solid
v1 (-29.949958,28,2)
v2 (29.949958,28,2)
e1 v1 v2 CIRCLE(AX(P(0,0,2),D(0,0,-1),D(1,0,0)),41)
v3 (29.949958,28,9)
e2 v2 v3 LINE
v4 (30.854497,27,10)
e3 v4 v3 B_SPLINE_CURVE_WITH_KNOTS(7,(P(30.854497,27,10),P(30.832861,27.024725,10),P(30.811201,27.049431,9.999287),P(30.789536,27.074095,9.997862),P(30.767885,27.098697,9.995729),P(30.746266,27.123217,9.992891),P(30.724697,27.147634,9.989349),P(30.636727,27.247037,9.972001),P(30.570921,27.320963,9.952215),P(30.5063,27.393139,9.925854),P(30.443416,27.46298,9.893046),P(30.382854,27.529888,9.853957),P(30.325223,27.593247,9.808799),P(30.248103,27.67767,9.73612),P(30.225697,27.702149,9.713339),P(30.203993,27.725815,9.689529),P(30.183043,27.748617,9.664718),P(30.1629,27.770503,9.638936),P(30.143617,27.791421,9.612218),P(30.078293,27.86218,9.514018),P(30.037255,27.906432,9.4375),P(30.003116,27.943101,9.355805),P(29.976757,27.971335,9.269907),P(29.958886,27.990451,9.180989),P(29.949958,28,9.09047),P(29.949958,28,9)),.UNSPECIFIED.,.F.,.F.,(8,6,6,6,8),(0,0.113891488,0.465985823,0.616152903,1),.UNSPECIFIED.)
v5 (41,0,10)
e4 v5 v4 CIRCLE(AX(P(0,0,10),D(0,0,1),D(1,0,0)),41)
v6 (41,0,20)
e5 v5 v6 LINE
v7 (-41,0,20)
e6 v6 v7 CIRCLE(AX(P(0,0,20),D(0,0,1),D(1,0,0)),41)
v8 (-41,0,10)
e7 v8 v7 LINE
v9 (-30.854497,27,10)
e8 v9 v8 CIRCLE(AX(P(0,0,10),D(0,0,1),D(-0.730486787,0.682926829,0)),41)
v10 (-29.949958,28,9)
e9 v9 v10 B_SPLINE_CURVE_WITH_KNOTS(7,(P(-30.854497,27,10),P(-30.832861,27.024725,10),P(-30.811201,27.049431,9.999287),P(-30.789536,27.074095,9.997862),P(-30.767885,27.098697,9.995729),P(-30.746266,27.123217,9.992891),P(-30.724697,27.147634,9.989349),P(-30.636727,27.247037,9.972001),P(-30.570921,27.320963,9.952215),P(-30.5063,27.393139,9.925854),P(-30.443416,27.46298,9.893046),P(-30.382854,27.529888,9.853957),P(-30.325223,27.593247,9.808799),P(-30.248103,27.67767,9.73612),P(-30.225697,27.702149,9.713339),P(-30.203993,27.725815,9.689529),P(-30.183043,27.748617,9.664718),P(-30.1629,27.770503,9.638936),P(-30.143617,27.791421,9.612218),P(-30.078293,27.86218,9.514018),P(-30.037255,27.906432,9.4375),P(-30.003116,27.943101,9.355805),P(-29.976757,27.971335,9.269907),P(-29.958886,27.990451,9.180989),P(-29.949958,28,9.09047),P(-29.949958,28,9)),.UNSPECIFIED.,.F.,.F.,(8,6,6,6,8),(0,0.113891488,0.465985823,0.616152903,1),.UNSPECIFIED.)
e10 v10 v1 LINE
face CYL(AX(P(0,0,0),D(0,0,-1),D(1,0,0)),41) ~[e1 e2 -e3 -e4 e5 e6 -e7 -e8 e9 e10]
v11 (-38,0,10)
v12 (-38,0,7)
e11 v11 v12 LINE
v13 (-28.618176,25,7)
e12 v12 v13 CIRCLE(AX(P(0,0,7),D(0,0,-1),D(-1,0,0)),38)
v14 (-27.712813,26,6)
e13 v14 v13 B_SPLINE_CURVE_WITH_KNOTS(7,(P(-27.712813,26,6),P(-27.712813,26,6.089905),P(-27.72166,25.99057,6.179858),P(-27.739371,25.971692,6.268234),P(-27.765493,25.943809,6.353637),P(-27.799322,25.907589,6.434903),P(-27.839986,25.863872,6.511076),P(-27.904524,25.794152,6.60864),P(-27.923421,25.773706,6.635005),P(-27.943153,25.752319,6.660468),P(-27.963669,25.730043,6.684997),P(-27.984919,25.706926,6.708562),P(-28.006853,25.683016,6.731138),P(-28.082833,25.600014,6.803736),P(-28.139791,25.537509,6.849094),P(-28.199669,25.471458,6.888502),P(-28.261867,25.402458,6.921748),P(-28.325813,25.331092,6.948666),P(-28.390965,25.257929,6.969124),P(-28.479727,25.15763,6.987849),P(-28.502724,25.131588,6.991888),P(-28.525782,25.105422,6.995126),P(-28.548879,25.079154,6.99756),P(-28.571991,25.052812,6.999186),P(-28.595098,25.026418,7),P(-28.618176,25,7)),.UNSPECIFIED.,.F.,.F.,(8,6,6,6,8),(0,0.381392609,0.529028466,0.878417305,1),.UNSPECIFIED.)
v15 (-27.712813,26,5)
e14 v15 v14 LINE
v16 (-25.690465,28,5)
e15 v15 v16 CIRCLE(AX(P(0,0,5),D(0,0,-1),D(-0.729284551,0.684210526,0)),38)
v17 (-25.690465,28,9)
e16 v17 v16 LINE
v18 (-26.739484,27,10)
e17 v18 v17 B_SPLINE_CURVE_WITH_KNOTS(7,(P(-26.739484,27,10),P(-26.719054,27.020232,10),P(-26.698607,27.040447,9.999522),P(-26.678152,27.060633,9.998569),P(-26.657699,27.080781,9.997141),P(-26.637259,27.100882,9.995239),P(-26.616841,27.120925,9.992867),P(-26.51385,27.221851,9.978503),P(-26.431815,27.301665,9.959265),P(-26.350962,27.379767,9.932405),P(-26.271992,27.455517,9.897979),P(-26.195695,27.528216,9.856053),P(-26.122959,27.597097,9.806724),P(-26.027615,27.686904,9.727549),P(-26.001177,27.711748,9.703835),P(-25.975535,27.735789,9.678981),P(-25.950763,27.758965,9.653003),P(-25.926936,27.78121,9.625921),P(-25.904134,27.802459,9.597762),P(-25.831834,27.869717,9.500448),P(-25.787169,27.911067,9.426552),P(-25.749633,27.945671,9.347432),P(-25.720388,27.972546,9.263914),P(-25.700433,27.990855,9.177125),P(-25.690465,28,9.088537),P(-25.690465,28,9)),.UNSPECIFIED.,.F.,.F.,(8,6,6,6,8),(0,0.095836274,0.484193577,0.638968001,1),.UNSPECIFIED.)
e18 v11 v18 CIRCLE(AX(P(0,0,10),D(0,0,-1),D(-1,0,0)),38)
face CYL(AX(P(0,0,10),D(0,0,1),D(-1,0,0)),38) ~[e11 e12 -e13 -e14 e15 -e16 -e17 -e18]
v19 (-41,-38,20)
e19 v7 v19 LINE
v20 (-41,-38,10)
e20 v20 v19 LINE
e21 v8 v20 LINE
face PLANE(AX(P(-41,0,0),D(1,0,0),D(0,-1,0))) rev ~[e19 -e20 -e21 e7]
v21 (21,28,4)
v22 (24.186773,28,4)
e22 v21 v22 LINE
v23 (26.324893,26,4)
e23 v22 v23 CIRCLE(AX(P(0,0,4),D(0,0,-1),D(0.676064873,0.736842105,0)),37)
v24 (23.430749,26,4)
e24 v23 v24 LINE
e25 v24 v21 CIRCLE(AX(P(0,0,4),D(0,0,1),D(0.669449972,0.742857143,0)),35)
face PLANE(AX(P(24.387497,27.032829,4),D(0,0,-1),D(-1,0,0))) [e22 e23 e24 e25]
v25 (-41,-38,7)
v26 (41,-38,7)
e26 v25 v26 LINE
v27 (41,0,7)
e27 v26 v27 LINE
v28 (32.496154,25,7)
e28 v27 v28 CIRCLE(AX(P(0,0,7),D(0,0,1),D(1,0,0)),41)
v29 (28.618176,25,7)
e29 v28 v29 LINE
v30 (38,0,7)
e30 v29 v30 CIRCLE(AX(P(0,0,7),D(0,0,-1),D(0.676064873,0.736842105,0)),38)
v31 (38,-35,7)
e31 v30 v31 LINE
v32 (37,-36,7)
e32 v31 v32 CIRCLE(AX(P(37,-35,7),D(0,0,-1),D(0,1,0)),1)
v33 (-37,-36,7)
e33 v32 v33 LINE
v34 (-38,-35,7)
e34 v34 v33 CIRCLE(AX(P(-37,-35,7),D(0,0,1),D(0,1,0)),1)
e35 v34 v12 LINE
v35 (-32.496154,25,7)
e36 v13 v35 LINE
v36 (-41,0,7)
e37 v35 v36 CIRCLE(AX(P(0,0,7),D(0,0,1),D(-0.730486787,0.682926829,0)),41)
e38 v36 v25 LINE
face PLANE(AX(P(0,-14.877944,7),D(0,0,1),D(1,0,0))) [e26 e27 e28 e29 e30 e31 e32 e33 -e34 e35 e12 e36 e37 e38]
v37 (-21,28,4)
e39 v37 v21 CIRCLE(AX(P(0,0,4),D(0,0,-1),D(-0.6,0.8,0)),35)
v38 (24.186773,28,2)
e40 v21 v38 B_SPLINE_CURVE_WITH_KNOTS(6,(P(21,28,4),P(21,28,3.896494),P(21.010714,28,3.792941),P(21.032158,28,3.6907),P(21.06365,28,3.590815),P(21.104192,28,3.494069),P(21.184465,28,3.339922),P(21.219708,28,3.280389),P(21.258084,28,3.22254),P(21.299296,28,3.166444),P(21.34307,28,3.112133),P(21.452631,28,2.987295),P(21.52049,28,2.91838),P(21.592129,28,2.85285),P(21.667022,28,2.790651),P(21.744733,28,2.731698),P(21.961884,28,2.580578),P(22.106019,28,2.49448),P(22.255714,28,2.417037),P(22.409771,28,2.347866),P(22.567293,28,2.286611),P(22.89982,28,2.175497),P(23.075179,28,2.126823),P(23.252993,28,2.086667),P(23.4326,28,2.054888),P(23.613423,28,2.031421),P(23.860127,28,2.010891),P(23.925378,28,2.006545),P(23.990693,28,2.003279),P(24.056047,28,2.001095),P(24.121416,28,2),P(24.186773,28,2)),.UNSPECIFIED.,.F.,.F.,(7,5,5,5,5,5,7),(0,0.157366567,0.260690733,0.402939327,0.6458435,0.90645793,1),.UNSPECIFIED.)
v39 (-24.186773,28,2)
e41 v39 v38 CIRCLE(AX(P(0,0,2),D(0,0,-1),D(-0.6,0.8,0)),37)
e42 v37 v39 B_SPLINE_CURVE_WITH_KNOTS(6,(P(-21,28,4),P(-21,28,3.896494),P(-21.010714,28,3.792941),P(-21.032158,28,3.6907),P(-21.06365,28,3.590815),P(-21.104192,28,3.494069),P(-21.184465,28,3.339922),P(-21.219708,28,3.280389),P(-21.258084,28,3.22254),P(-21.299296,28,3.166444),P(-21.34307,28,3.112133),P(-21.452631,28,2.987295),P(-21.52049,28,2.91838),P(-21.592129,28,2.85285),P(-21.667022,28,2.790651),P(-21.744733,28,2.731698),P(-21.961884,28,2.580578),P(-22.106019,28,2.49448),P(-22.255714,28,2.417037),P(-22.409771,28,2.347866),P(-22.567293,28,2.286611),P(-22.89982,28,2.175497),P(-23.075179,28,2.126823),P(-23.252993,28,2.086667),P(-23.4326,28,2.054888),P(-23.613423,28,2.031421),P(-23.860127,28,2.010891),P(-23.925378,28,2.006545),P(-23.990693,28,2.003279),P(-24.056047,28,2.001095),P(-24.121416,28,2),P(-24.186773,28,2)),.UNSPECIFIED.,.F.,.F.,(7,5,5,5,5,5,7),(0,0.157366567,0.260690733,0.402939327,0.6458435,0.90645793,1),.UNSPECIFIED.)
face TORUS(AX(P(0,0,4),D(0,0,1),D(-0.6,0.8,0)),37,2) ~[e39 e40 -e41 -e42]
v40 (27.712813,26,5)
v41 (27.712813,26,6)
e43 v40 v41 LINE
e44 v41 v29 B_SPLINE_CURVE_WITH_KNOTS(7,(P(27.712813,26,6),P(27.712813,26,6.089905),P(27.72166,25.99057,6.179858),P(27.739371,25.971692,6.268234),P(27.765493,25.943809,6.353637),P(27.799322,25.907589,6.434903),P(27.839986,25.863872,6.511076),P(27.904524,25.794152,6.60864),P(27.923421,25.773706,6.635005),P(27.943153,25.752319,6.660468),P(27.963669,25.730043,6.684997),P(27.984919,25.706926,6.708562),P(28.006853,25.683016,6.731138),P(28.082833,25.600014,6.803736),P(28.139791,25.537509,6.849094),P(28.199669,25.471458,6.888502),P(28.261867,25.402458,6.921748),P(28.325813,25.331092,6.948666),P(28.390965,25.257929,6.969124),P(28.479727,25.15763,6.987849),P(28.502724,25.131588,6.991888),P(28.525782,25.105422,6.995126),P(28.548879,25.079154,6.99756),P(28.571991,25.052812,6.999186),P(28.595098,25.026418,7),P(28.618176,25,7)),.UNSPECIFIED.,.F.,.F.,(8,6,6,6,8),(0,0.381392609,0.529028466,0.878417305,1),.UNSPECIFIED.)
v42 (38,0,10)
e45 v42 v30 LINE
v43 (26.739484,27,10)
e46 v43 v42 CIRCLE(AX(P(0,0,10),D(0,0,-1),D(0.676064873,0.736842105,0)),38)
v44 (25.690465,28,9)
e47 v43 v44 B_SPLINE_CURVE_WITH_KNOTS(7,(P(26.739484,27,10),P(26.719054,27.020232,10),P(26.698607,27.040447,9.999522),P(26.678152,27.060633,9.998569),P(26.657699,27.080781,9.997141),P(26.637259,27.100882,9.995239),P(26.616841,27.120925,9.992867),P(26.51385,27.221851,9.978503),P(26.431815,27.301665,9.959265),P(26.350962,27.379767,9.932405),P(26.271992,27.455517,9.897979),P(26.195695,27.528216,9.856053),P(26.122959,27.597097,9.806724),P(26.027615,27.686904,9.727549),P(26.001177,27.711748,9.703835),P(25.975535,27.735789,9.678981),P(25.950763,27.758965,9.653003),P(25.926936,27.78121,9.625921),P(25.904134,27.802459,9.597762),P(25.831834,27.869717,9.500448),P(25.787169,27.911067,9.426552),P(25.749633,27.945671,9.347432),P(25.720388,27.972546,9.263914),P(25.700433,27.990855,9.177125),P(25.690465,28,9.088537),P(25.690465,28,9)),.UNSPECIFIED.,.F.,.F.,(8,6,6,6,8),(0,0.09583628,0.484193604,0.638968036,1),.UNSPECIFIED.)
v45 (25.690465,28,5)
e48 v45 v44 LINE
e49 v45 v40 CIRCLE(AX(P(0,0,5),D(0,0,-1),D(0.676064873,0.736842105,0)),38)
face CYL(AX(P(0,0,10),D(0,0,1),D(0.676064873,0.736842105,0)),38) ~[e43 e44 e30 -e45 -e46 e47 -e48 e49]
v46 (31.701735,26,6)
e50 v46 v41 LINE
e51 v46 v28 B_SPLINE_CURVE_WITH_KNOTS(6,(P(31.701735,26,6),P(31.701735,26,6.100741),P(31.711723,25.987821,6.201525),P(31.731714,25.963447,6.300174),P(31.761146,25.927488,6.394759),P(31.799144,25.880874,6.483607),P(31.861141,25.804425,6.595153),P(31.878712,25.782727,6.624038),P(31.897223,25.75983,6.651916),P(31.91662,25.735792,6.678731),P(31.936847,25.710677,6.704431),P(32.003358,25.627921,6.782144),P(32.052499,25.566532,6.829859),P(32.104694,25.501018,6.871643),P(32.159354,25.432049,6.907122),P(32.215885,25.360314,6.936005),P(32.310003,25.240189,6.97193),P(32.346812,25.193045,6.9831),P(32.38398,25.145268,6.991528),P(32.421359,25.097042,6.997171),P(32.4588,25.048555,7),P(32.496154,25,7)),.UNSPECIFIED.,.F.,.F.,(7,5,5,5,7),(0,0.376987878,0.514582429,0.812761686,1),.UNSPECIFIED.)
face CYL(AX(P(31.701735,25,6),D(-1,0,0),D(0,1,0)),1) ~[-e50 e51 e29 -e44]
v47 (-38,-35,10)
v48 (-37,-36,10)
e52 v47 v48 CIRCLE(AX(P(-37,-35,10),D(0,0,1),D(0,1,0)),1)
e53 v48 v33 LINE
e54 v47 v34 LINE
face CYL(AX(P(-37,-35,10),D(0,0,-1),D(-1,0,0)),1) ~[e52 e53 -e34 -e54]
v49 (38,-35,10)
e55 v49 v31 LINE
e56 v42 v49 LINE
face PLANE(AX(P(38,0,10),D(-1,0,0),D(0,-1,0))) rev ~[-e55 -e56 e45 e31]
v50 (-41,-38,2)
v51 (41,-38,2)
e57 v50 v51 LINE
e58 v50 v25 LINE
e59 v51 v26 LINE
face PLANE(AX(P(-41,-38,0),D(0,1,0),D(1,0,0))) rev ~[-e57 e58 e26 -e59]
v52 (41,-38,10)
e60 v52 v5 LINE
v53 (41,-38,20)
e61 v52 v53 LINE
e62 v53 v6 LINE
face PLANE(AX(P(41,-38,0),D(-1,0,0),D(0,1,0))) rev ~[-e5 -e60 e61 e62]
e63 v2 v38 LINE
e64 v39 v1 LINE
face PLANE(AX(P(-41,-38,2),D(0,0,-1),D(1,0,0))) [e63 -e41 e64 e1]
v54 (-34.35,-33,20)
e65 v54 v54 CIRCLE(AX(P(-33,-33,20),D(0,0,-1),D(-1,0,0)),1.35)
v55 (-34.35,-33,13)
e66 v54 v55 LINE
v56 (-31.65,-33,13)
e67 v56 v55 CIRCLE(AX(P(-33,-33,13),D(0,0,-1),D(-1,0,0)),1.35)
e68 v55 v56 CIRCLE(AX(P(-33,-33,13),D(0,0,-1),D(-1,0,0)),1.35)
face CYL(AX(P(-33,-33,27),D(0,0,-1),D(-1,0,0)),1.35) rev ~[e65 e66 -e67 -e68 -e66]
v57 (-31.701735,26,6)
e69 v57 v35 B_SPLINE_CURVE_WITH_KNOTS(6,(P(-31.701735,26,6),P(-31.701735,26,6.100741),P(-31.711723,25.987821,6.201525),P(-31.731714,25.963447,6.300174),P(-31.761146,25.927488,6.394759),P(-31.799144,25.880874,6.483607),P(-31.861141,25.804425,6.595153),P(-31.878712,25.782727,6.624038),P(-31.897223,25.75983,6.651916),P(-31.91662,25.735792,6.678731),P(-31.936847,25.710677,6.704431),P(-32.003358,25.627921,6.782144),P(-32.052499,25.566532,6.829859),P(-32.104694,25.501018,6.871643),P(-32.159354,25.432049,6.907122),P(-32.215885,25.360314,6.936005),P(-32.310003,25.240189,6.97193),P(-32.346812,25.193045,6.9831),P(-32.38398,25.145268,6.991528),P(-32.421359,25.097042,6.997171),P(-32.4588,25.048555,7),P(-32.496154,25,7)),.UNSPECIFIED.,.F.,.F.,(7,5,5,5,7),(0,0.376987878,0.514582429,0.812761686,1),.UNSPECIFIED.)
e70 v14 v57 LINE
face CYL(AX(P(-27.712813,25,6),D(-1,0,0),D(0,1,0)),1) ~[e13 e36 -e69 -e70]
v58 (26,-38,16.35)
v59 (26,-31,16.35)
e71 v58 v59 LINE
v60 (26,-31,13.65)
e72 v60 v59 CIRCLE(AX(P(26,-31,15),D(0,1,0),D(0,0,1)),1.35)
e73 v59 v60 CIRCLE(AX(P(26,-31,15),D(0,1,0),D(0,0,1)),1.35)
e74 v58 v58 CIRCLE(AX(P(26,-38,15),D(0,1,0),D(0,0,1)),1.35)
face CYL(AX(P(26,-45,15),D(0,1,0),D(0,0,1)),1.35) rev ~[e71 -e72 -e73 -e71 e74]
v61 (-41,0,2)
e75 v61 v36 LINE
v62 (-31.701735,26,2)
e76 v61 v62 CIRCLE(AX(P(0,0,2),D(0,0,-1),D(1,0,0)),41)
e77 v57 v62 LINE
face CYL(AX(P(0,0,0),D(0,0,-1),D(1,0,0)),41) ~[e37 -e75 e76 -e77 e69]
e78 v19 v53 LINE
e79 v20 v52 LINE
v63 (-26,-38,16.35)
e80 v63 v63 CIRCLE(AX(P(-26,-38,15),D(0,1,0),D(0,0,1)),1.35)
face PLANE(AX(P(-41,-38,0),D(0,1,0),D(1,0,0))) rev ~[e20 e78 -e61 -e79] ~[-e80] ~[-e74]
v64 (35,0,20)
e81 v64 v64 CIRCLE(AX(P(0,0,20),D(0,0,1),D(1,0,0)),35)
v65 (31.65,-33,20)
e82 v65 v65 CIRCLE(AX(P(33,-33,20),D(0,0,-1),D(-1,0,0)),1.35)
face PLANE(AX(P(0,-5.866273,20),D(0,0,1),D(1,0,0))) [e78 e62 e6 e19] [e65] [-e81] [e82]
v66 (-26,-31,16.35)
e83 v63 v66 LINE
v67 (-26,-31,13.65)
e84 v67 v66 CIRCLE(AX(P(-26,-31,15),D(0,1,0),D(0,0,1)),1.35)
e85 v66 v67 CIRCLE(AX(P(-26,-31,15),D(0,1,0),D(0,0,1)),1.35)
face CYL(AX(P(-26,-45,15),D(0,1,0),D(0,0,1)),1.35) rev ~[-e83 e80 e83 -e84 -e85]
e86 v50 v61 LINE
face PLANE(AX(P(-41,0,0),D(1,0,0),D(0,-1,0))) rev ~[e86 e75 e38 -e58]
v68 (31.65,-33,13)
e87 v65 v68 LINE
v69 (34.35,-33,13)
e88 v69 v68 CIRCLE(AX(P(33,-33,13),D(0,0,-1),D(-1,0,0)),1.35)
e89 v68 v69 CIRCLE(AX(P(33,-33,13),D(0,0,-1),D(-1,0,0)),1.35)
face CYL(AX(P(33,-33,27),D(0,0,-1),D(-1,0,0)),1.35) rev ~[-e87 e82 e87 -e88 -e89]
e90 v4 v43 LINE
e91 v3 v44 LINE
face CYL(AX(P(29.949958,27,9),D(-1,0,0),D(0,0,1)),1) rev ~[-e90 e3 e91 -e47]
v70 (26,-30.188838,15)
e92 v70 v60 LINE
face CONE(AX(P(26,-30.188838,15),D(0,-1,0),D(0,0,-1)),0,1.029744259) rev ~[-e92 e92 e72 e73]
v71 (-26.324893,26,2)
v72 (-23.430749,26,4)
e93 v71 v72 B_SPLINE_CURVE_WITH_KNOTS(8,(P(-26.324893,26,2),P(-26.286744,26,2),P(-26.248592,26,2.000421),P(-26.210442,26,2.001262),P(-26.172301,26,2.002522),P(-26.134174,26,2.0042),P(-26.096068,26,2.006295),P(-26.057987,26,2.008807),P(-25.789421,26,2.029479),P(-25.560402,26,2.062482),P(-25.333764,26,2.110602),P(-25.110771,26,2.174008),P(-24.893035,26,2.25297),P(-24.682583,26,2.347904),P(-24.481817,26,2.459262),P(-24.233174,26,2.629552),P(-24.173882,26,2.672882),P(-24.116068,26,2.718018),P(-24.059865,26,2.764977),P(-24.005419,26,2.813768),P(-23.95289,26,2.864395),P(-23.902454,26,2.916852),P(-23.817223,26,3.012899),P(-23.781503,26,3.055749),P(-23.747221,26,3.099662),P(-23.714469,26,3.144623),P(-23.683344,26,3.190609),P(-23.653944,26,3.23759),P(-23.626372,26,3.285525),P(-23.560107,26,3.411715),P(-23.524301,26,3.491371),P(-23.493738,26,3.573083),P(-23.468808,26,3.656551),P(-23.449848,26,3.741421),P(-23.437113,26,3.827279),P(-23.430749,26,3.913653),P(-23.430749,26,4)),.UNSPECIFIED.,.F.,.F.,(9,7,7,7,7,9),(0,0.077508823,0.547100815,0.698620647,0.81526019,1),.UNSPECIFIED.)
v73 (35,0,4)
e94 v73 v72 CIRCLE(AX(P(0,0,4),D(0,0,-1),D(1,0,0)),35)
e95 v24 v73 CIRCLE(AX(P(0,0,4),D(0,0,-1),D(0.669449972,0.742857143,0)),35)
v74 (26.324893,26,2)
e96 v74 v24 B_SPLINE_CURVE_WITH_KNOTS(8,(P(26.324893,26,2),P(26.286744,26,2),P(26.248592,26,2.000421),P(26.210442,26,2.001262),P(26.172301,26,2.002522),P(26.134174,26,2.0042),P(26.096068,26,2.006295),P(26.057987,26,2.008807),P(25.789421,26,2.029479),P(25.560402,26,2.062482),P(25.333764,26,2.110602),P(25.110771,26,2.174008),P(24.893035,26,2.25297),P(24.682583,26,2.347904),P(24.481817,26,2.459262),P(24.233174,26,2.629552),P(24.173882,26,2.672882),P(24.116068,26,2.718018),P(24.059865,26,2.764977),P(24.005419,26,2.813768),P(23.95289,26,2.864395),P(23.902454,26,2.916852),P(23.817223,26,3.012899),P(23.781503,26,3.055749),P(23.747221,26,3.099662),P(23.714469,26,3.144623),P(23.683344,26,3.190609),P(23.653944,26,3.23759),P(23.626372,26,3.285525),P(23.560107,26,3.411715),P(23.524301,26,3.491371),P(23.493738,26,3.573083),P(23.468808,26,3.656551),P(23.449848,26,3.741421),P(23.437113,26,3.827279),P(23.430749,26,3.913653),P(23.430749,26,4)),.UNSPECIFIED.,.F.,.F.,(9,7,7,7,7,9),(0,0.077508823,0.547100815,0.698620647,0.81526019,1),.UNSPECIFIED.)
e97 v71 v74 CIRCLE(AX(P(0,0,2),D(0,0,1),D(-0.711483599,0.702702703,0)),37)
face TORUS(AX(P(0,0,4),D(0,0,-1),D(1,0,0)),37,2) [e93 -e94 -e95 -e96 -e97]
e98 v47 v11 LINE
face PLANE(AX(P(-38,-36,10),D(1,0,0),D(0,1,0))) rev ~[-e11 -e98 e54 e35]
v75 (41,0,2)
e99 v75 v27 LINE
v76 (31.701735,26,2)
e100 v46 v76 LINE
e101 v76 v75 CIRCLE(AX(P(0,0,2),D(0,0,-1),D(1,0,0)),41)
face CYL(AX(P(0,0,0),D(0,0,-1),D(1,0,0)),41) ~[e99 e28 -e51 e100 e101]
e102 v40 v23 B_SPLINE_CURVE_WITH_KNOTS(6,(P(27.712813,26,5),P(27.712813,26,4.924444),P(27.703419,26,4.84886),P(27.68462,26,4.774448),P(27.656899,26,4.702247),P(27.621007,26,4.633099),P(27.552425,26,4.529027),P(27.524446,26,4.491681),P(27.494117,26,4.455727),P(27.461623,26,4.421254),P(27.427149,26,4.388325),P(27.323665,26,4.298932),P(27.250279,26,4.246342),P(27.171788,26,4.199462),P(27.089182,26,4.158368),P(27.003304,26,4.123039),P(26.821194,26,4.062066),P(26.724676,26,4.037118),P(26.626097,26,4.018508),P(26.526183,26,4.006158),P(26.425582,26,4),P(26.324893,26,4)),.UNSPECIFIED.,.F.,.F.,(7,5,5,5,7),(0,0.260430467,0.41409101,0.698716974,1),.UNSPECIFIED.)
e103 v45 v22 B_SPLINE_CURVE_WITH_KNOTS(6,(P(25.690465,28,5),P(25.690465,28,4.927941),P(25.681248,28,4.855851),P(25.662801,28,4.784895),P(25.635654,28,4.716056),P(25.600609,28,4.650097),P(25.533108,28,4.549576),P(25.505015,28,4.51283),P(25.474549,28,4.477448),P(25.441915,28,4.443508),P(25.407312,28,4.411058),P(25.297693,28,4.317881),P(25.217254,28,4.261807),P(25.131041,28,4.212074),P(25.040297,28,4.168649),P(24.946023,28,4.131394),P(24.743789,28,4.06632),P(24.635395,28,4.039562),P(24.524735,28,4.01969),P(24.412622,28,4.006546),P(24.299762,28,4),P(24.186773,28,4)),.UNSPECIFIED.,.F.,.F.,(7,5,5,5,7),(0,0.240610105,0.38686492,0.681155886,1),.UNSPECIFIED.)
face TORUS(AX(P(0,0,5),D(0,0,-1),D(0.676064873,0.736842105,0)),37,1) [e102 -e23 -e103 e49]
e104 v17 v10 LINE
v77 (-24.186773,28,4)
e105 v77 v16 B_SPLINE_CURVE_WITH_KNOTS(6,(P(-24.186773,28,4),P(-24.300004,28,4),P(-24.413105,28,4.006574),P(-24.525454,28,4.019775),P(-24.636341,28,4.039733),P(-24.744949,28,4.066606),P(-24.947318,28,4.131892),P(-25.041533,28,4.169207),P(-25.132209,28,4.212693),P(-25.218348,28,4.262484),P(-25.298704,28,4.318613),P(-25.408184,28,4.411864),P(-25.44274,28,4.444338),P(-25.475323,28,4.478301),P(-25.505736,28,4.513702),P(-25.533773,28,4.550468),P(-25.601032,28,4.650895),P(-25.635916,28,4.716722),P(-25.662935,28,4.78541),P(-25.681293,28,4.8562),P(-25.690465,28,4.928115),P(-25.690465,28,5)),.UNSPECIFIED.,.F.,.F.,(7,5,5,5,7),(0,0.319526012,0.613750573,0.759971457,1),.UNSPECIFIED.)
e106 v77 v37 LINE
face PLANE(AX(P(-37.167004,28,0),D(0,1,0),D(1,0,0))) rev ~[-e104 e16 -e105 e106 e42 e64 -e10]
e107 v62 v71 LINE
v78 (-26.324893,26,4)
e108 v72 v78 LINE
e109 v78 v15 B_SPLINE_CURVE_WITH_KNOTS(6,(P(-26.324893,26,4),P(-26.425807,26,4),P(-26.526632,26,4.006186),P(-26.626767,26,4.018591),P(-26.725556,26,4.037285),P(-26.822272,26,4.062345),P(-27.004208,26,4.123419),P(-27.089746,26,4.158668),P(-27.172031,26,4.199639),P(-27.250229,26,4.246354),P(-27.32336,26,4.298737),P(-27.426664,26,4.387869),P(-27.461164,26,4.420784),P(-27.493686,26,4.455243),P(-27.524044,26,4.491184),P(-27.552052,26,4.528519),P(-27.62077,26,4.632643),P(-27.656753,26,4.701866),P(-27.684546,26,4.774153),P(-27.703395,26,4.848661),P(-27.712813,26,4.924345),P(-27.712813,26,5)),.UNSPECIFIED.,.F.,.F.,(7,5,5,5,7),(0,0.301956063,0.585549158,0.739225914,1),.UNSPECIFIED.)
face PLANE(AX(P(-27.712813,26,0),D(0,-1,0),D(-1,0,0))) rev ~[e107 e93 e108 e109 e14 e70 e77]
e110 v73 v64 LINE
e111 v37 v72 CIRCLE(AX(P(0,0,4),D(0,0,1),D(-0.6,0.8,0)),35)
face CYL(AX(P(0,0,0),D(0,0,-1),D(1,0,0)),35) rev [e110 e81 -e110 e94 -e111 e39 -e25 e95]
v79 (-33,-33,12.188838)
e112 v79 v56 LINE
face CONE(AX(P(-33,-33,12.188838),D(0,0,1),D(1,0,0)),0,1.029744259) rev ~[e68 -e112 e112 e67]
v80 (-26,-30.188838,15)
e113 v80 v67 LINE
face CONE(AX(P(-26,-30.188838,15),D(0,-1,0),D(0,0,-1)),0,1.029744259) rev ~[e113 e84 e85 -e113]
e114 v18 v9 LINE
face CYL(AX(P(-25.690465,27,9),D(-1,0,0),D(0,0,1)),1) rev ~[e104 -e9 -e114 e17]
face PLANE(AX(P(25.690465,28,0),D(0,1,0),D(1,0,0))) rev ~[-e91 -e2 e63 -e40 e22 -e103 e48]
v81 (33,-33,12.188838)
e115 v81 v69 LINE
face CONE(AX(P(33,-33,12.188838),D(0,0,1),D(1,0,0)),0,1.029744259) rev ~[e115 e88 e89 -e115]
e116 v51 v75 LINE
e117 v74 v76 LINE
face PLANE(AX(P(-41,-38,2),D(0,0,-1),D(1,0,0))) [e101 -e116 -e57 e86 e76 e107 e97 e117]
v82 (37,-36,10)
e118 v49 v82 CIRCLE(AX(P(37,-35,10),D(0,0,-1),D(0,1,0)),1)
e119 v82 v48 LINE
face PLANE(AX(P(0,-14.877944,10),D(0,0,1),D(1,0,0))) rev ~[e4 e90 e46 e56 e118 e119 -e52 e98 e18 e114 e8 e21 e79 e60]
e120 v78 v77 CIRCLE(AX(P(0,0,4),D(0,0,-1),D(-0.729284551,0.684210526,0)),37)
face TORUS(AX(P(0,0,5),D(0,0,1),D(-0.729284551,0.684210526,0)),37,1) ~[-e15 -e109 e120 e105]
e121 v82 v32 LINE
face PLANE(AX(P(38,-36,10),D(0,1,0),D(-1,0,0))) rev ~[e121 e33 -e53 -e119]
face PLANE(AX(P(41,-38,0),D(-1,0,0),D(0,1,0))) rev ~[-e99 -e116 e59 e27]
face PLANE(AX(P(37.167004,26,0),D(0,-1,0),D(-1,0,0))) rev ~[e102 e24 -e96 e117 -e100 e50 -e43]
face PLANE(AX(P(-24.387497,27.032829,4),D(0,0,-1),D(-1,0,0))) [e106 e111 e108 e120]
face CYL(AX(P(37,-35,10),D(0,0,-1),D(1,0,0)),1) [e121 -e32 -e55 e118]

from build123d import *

# Parameters (mm, degrees)
SKETCH_1_R                            = 35.00000000000001
EXTRUDE_21_DEPTH                      = 20
CUT_EXTRUDE_2_DEPTH                   = 4
CUT_EXTRUDE_3_DEPTH                   = 8
CUT_EXTRUDE_4_DEPTH                   = 1
CUT_EXTRUDE_4_DEPTH_BACK              = 2
FILLET_1_R                            = 1
SKETCH_8_W                            = 82
SKETCH_8_H                            = 2
CUT_EXTRUDE_5_DEPTH                   = 92.22499672787059
FILLET_3_R                            = 2
HOLE_WIZARD_2_7_2_7_1_D               = 2.7
HOLE_WIZARD_2_7_2_7_1_DEPTH           = 7
HOLE_WIZARD_2_7_2_7_1_TIP             = 0.8111618356872065
HOLE_WIZARD_2_7_2_7_1_ON_FACE_2_D     = 2.7
HOLE_WIZARD_2_7_2_7_1_ON_FACE_2_DEPTH = 7
HOLE_WIZARD_2_7_2_7_1_ON_FACE_2_TIP   = 0.8111618356872065


with BuildPart() as part:
    # 草图1 → 厚度21 (new body)
    with BuildSketch(Plane.XY):
        with BuildLine():
            Line((-41, 0), (-41, -38.00000000000001))
            Line((-41, -38.00000000000001), (41, -38.00000000000001))
            Line((41, -38.00000000000001), (41, 0))
            ThreePointArc((41, 0), (2.51e-15, 41), (-41, 0))
        make_face()
        Circle(SKETCH_1_R, mode=Mode.SUBTRACT)
    extrude(amount=EXTRUDE_21_DEPTH)

    # 草图5 → 切除-拉伸2 (cut)
    with BuildSketch(Plane(origin=(0, 0, 0), x_dir=(-1, 0, 0), z_dir=(0, 0, -1))):
        with BuildLine():
            Line((-21.000000000000004, 28.00000000000001), (-25.690465157330244, 28.000000000000007))
            ThreePointArc((-25.690465157330244, 28.000000000000007), (-26.720357920143798, 27.01892804349219), (-27.712812921102028, 26.00000000000001))
            Line((-27.712812921102028, 26.00000000000001), (-23.430749027719965, 26.000000000000007))
            ThreePointArc((-23.43074902771997, 26.000000000000007), (-22.237870059676574, 27.02734051306086), (-21.000000000000007, 28.00000000000001))
        make_face()
        with BuildLine():
            Line((25.690465157330244, 28.00000000000001), (20.99999999999999, 28.00000000000001))
            ThreePointArc((20.99999999999999, 28.000000000000014), (22.237870059676567, 27.027340513060857), (23.430749027719965, 26.000000000000007))
            Line((23.430749027719965, 26.000000000000007), (27.712812921102028, 26.00000000000001))
            ThreePointArc((27.712812921102035, 26.000000000000014), (26.720357920143798, 27.018928043492192), (25.69046515733025, 28.000000000000018))
        make_face()
    extrude(amount=-CUT_EXTRUDE_2_DEPTH, mode=Mode.SUBTRACT)

    # 草图6 → 切除-拉伸3 (cut)
    with BuildSketch(Plane(origin=(0, 0, 0), x_dir=(-1, 0, 0), z_dir=(0, 0, -1))):
        with BuildLine():
            ThreePointArc((-27.712812921102028, 26.000000000000004), (-26.72035792014379, 27.01892804349218), (-25.690465157330244, 28.00000000000001))
            Line((-25.690465157330244, 28.000000000000007), (-29.949958263743014, 28.000000000000007))
            ThreePointArc((-29.949958263743238, 28.00000000000068), (-30.842062505518594, 27.014203308735276), (-31.701734968294286, 26.000000000000522))
            Line((-31.70173496829411, 26.000000000000007), (-27.712812921102028, 26.000000000000004))
        make_face()
        with BuildLine():
            ThreePointArc((31.70173496829428, 26.00000000000053), (30.842062505518587, 27.01420330873528), (29.949958263743248, 28.000000000000668))
            Line((29.94995826374302, 28.000000000000007), (25.690465157330244, 28.000000000000007))
            ThreePointArc((25.690465157330244, 28.000000000000007), (26.720357920143798, 27.01892804349219), (27.712812921102028, 26.000000000000007))
            Line((27.712812921102028, 26.000000000000004), (31.701734968294097, 26.000000000000007))
        make_face()
        with BuildLine():
            Line((37.167004412093284, 28.000000000000007), (29.94995826374302, 28.000000000000007))
            ThreePointArc((29.949958263743248, 28.000000000000668), (30.842062505518587, 27.01420330873528), (31.70173496829428, 26.00000000000053))
            Line((31.701734968294097, 26.000000000000007), (37.167004412093284, 26.00000000000001))
            Line((37.167004412093284, 26.00000000000001), (37.167004412093284, 28.000000000000007))
        make_face()
        with BuildLine():
            ThreePointArc((-31.701734968294286, 26.000000000000522), (-30.842062505518594, 27.014203308735276), (-29.949958263743238, 28.00000000000068))
            Line((-29.949958263743014, 28.000000000000007), (-37.167004412093284, 28.000000000000007))
            Line((-37.167004412093284, 28.000000000000007), (-37.167004412093284, 26.00000000000001))
            Line((-37.167004412093284, 26.00000000000001), (-31.70173496829411, 26.000000000000007))
        make_face()
    extrude(amount=-CUT_EXTRUDE_3_DEPTH, mode=Mode.SUBTRACT)

    # 草图7 → 切除-拉伸4 (cut, two sides: drawn at the far end of the back side and taken through both)
    with BuildSketch(Plane(origin=(0, 0, 8), x_dir=(-1, 0, 0), z_dir=(0, 0, -1)).offset(-CUT_EXTRUDE_4_DEPTH_BACK)):
        with BuildLine():
            Line((-38, -36.00000000000001), (37.99999999999999, -36.00000000000001))
            Line((37.99999999999999, -36.00000000000001), (37.99999999999999, 0))
            ThreePointArc((37.99999999999999, 0), (34.786762395906784, 15.29317370628887), (25.690465157330244, 28.00000000000001))
            Line((25.690465157330244, 28.00000000000001), (29.949958263743873, 28.000000000000007))
            ThreePointArc((29.949958263743873, 28.000000000000007), (38.13756867455958, 15.050775913329202), (40.999999999999986, 0))
            Line((40.999999999999986, 0), (41, -38.00000000000001))
            Line((41, -38.00000000000001), (-41, -38.00000000000001))
            Line((-41, -38.00000000000001), (-40.999999999999986, 0))
            ThreePointArc((-40.999999999999986, 0), (-38.137568674559596, 15.050775913329224), (-29.949958263743873, 28.000000000000007))
            Line((-29.949958263743873, 28.000000000000007), (-25.69046515733023, 28.00000000000001))
            ThreePointArc((-25.69046515733023, 28.00000000000001), (-34.78676239590678, 15.293173706288876), (-37.99999999999999, 0))
            Line((-37.99999999999999, 0), (-38, -36.00000000000001))
        make_face()
    extrude(amount=CUT_EXTRUDE_4_DEPTH + CUT_EXTRUDE_4_DEPTH_BACK, mode=Mode.SUBTRACT)

    # 圆角1
    fillet_1_edges = [part.edges().sort_by_distance(p)[0] for p in [
        (29.707273944699274, 26.000000000000004, 7),
        (-29.707273944699253, 26.000000000000004, 7),
        (-37.99999999999999, -36.00000000000001, 8.5),
        (38, -36.00000000000001, 8.5),
        (-27.82021171053706, 28.000000000000007, 10),
        (27.820211710537052, 28.000000000000007, 10),
        (26.72035792014379, 27.01892804349218, 4),
        (-26.720357920143798, 27.018928043492195, 4),
    ]]
    fillet(fillet_1_edges, radius=FILLET_1_R)

    # 草图8 → 切除-拉伸5 (cut, through all)
    with BuildSketch(Plane.XZ.offset(38.00000000000001)):
        with Locations((0, 1)):
            Rectangle(SKETCH_8_W, SKETCH_8_H)
    extrude(amount=-CUT_EXTRUDE_5_DEPTH, mode=Mode.SUBTRACT)

    # 圆角3
    fillet_3_edges = [part.edges().sort_by_distance(p)[0] for p in [
        (-14.228910429646426, -31.97714977894527, 2),
        (-6.43e-15, 35.00000000000001, 2),
    ]]
    fillet(fillet_3_edges, radius=FILLET_3_R)

    # Ø2.7 (2.7) 直径孔1
    with Locations(Plane(origin=(-33, -33, 20), x_dir=(1, 0, 0), z_dir=(0, 0, 1))):
        with Locations((0, 0), (66, 0)):
            Hole(HOLE_WIZARD_2_7_2_7_1_D / 2, depth=HOLE_WIZARD_2_7_2_7_1_DEPTH)
            with Locations((0, 0, -(HOLE_WIZARD_2_7_2_7_1_DEPTH + HOLE_WIZARD_2_7_2_7_1_TIP / 2))):  # 118° drill point
                Cone(0, HOLE_WIZARD_2_7_2_7_1_D / 2, HOLE_WIZARD_2_7_2_7_1_TIP, mode=Mode.SUBTRACT)

    # Ø2.7 (2.7) 直径孔1 on face 2
    with Locations(Plane(origin=(26, -38, 15), x_dir=(0, 0, -1), z_dir=(0, -1, 0))):
        with Locations((0, 0), (0, -52)):
            Hole(HOLE_WIZARD_2_7_2_7_1_ON_FACE_2_D / 2, depth=HOLE_WIZARD_2_7_2_7_1_ON_FACE_2_DEPTH)
            with Locations((0, 0, -(HOLE_WIZARD_2_7_2_7_1_ON_FACE_2_DEPTH + HOLE_WIZARD_2_7_2_7_1_ON_FACE_2_TIP / 2))):  # 118° drill point
                Cone(0, HOLE_WIZARD_2_7_2_7_1_ON_FACE_2_D / 2, HOLE_WIZARD_2_7_2_7_1_ON_FACE_2_TIP, mode=Mode.SUBTRACT)


solid = part.part
